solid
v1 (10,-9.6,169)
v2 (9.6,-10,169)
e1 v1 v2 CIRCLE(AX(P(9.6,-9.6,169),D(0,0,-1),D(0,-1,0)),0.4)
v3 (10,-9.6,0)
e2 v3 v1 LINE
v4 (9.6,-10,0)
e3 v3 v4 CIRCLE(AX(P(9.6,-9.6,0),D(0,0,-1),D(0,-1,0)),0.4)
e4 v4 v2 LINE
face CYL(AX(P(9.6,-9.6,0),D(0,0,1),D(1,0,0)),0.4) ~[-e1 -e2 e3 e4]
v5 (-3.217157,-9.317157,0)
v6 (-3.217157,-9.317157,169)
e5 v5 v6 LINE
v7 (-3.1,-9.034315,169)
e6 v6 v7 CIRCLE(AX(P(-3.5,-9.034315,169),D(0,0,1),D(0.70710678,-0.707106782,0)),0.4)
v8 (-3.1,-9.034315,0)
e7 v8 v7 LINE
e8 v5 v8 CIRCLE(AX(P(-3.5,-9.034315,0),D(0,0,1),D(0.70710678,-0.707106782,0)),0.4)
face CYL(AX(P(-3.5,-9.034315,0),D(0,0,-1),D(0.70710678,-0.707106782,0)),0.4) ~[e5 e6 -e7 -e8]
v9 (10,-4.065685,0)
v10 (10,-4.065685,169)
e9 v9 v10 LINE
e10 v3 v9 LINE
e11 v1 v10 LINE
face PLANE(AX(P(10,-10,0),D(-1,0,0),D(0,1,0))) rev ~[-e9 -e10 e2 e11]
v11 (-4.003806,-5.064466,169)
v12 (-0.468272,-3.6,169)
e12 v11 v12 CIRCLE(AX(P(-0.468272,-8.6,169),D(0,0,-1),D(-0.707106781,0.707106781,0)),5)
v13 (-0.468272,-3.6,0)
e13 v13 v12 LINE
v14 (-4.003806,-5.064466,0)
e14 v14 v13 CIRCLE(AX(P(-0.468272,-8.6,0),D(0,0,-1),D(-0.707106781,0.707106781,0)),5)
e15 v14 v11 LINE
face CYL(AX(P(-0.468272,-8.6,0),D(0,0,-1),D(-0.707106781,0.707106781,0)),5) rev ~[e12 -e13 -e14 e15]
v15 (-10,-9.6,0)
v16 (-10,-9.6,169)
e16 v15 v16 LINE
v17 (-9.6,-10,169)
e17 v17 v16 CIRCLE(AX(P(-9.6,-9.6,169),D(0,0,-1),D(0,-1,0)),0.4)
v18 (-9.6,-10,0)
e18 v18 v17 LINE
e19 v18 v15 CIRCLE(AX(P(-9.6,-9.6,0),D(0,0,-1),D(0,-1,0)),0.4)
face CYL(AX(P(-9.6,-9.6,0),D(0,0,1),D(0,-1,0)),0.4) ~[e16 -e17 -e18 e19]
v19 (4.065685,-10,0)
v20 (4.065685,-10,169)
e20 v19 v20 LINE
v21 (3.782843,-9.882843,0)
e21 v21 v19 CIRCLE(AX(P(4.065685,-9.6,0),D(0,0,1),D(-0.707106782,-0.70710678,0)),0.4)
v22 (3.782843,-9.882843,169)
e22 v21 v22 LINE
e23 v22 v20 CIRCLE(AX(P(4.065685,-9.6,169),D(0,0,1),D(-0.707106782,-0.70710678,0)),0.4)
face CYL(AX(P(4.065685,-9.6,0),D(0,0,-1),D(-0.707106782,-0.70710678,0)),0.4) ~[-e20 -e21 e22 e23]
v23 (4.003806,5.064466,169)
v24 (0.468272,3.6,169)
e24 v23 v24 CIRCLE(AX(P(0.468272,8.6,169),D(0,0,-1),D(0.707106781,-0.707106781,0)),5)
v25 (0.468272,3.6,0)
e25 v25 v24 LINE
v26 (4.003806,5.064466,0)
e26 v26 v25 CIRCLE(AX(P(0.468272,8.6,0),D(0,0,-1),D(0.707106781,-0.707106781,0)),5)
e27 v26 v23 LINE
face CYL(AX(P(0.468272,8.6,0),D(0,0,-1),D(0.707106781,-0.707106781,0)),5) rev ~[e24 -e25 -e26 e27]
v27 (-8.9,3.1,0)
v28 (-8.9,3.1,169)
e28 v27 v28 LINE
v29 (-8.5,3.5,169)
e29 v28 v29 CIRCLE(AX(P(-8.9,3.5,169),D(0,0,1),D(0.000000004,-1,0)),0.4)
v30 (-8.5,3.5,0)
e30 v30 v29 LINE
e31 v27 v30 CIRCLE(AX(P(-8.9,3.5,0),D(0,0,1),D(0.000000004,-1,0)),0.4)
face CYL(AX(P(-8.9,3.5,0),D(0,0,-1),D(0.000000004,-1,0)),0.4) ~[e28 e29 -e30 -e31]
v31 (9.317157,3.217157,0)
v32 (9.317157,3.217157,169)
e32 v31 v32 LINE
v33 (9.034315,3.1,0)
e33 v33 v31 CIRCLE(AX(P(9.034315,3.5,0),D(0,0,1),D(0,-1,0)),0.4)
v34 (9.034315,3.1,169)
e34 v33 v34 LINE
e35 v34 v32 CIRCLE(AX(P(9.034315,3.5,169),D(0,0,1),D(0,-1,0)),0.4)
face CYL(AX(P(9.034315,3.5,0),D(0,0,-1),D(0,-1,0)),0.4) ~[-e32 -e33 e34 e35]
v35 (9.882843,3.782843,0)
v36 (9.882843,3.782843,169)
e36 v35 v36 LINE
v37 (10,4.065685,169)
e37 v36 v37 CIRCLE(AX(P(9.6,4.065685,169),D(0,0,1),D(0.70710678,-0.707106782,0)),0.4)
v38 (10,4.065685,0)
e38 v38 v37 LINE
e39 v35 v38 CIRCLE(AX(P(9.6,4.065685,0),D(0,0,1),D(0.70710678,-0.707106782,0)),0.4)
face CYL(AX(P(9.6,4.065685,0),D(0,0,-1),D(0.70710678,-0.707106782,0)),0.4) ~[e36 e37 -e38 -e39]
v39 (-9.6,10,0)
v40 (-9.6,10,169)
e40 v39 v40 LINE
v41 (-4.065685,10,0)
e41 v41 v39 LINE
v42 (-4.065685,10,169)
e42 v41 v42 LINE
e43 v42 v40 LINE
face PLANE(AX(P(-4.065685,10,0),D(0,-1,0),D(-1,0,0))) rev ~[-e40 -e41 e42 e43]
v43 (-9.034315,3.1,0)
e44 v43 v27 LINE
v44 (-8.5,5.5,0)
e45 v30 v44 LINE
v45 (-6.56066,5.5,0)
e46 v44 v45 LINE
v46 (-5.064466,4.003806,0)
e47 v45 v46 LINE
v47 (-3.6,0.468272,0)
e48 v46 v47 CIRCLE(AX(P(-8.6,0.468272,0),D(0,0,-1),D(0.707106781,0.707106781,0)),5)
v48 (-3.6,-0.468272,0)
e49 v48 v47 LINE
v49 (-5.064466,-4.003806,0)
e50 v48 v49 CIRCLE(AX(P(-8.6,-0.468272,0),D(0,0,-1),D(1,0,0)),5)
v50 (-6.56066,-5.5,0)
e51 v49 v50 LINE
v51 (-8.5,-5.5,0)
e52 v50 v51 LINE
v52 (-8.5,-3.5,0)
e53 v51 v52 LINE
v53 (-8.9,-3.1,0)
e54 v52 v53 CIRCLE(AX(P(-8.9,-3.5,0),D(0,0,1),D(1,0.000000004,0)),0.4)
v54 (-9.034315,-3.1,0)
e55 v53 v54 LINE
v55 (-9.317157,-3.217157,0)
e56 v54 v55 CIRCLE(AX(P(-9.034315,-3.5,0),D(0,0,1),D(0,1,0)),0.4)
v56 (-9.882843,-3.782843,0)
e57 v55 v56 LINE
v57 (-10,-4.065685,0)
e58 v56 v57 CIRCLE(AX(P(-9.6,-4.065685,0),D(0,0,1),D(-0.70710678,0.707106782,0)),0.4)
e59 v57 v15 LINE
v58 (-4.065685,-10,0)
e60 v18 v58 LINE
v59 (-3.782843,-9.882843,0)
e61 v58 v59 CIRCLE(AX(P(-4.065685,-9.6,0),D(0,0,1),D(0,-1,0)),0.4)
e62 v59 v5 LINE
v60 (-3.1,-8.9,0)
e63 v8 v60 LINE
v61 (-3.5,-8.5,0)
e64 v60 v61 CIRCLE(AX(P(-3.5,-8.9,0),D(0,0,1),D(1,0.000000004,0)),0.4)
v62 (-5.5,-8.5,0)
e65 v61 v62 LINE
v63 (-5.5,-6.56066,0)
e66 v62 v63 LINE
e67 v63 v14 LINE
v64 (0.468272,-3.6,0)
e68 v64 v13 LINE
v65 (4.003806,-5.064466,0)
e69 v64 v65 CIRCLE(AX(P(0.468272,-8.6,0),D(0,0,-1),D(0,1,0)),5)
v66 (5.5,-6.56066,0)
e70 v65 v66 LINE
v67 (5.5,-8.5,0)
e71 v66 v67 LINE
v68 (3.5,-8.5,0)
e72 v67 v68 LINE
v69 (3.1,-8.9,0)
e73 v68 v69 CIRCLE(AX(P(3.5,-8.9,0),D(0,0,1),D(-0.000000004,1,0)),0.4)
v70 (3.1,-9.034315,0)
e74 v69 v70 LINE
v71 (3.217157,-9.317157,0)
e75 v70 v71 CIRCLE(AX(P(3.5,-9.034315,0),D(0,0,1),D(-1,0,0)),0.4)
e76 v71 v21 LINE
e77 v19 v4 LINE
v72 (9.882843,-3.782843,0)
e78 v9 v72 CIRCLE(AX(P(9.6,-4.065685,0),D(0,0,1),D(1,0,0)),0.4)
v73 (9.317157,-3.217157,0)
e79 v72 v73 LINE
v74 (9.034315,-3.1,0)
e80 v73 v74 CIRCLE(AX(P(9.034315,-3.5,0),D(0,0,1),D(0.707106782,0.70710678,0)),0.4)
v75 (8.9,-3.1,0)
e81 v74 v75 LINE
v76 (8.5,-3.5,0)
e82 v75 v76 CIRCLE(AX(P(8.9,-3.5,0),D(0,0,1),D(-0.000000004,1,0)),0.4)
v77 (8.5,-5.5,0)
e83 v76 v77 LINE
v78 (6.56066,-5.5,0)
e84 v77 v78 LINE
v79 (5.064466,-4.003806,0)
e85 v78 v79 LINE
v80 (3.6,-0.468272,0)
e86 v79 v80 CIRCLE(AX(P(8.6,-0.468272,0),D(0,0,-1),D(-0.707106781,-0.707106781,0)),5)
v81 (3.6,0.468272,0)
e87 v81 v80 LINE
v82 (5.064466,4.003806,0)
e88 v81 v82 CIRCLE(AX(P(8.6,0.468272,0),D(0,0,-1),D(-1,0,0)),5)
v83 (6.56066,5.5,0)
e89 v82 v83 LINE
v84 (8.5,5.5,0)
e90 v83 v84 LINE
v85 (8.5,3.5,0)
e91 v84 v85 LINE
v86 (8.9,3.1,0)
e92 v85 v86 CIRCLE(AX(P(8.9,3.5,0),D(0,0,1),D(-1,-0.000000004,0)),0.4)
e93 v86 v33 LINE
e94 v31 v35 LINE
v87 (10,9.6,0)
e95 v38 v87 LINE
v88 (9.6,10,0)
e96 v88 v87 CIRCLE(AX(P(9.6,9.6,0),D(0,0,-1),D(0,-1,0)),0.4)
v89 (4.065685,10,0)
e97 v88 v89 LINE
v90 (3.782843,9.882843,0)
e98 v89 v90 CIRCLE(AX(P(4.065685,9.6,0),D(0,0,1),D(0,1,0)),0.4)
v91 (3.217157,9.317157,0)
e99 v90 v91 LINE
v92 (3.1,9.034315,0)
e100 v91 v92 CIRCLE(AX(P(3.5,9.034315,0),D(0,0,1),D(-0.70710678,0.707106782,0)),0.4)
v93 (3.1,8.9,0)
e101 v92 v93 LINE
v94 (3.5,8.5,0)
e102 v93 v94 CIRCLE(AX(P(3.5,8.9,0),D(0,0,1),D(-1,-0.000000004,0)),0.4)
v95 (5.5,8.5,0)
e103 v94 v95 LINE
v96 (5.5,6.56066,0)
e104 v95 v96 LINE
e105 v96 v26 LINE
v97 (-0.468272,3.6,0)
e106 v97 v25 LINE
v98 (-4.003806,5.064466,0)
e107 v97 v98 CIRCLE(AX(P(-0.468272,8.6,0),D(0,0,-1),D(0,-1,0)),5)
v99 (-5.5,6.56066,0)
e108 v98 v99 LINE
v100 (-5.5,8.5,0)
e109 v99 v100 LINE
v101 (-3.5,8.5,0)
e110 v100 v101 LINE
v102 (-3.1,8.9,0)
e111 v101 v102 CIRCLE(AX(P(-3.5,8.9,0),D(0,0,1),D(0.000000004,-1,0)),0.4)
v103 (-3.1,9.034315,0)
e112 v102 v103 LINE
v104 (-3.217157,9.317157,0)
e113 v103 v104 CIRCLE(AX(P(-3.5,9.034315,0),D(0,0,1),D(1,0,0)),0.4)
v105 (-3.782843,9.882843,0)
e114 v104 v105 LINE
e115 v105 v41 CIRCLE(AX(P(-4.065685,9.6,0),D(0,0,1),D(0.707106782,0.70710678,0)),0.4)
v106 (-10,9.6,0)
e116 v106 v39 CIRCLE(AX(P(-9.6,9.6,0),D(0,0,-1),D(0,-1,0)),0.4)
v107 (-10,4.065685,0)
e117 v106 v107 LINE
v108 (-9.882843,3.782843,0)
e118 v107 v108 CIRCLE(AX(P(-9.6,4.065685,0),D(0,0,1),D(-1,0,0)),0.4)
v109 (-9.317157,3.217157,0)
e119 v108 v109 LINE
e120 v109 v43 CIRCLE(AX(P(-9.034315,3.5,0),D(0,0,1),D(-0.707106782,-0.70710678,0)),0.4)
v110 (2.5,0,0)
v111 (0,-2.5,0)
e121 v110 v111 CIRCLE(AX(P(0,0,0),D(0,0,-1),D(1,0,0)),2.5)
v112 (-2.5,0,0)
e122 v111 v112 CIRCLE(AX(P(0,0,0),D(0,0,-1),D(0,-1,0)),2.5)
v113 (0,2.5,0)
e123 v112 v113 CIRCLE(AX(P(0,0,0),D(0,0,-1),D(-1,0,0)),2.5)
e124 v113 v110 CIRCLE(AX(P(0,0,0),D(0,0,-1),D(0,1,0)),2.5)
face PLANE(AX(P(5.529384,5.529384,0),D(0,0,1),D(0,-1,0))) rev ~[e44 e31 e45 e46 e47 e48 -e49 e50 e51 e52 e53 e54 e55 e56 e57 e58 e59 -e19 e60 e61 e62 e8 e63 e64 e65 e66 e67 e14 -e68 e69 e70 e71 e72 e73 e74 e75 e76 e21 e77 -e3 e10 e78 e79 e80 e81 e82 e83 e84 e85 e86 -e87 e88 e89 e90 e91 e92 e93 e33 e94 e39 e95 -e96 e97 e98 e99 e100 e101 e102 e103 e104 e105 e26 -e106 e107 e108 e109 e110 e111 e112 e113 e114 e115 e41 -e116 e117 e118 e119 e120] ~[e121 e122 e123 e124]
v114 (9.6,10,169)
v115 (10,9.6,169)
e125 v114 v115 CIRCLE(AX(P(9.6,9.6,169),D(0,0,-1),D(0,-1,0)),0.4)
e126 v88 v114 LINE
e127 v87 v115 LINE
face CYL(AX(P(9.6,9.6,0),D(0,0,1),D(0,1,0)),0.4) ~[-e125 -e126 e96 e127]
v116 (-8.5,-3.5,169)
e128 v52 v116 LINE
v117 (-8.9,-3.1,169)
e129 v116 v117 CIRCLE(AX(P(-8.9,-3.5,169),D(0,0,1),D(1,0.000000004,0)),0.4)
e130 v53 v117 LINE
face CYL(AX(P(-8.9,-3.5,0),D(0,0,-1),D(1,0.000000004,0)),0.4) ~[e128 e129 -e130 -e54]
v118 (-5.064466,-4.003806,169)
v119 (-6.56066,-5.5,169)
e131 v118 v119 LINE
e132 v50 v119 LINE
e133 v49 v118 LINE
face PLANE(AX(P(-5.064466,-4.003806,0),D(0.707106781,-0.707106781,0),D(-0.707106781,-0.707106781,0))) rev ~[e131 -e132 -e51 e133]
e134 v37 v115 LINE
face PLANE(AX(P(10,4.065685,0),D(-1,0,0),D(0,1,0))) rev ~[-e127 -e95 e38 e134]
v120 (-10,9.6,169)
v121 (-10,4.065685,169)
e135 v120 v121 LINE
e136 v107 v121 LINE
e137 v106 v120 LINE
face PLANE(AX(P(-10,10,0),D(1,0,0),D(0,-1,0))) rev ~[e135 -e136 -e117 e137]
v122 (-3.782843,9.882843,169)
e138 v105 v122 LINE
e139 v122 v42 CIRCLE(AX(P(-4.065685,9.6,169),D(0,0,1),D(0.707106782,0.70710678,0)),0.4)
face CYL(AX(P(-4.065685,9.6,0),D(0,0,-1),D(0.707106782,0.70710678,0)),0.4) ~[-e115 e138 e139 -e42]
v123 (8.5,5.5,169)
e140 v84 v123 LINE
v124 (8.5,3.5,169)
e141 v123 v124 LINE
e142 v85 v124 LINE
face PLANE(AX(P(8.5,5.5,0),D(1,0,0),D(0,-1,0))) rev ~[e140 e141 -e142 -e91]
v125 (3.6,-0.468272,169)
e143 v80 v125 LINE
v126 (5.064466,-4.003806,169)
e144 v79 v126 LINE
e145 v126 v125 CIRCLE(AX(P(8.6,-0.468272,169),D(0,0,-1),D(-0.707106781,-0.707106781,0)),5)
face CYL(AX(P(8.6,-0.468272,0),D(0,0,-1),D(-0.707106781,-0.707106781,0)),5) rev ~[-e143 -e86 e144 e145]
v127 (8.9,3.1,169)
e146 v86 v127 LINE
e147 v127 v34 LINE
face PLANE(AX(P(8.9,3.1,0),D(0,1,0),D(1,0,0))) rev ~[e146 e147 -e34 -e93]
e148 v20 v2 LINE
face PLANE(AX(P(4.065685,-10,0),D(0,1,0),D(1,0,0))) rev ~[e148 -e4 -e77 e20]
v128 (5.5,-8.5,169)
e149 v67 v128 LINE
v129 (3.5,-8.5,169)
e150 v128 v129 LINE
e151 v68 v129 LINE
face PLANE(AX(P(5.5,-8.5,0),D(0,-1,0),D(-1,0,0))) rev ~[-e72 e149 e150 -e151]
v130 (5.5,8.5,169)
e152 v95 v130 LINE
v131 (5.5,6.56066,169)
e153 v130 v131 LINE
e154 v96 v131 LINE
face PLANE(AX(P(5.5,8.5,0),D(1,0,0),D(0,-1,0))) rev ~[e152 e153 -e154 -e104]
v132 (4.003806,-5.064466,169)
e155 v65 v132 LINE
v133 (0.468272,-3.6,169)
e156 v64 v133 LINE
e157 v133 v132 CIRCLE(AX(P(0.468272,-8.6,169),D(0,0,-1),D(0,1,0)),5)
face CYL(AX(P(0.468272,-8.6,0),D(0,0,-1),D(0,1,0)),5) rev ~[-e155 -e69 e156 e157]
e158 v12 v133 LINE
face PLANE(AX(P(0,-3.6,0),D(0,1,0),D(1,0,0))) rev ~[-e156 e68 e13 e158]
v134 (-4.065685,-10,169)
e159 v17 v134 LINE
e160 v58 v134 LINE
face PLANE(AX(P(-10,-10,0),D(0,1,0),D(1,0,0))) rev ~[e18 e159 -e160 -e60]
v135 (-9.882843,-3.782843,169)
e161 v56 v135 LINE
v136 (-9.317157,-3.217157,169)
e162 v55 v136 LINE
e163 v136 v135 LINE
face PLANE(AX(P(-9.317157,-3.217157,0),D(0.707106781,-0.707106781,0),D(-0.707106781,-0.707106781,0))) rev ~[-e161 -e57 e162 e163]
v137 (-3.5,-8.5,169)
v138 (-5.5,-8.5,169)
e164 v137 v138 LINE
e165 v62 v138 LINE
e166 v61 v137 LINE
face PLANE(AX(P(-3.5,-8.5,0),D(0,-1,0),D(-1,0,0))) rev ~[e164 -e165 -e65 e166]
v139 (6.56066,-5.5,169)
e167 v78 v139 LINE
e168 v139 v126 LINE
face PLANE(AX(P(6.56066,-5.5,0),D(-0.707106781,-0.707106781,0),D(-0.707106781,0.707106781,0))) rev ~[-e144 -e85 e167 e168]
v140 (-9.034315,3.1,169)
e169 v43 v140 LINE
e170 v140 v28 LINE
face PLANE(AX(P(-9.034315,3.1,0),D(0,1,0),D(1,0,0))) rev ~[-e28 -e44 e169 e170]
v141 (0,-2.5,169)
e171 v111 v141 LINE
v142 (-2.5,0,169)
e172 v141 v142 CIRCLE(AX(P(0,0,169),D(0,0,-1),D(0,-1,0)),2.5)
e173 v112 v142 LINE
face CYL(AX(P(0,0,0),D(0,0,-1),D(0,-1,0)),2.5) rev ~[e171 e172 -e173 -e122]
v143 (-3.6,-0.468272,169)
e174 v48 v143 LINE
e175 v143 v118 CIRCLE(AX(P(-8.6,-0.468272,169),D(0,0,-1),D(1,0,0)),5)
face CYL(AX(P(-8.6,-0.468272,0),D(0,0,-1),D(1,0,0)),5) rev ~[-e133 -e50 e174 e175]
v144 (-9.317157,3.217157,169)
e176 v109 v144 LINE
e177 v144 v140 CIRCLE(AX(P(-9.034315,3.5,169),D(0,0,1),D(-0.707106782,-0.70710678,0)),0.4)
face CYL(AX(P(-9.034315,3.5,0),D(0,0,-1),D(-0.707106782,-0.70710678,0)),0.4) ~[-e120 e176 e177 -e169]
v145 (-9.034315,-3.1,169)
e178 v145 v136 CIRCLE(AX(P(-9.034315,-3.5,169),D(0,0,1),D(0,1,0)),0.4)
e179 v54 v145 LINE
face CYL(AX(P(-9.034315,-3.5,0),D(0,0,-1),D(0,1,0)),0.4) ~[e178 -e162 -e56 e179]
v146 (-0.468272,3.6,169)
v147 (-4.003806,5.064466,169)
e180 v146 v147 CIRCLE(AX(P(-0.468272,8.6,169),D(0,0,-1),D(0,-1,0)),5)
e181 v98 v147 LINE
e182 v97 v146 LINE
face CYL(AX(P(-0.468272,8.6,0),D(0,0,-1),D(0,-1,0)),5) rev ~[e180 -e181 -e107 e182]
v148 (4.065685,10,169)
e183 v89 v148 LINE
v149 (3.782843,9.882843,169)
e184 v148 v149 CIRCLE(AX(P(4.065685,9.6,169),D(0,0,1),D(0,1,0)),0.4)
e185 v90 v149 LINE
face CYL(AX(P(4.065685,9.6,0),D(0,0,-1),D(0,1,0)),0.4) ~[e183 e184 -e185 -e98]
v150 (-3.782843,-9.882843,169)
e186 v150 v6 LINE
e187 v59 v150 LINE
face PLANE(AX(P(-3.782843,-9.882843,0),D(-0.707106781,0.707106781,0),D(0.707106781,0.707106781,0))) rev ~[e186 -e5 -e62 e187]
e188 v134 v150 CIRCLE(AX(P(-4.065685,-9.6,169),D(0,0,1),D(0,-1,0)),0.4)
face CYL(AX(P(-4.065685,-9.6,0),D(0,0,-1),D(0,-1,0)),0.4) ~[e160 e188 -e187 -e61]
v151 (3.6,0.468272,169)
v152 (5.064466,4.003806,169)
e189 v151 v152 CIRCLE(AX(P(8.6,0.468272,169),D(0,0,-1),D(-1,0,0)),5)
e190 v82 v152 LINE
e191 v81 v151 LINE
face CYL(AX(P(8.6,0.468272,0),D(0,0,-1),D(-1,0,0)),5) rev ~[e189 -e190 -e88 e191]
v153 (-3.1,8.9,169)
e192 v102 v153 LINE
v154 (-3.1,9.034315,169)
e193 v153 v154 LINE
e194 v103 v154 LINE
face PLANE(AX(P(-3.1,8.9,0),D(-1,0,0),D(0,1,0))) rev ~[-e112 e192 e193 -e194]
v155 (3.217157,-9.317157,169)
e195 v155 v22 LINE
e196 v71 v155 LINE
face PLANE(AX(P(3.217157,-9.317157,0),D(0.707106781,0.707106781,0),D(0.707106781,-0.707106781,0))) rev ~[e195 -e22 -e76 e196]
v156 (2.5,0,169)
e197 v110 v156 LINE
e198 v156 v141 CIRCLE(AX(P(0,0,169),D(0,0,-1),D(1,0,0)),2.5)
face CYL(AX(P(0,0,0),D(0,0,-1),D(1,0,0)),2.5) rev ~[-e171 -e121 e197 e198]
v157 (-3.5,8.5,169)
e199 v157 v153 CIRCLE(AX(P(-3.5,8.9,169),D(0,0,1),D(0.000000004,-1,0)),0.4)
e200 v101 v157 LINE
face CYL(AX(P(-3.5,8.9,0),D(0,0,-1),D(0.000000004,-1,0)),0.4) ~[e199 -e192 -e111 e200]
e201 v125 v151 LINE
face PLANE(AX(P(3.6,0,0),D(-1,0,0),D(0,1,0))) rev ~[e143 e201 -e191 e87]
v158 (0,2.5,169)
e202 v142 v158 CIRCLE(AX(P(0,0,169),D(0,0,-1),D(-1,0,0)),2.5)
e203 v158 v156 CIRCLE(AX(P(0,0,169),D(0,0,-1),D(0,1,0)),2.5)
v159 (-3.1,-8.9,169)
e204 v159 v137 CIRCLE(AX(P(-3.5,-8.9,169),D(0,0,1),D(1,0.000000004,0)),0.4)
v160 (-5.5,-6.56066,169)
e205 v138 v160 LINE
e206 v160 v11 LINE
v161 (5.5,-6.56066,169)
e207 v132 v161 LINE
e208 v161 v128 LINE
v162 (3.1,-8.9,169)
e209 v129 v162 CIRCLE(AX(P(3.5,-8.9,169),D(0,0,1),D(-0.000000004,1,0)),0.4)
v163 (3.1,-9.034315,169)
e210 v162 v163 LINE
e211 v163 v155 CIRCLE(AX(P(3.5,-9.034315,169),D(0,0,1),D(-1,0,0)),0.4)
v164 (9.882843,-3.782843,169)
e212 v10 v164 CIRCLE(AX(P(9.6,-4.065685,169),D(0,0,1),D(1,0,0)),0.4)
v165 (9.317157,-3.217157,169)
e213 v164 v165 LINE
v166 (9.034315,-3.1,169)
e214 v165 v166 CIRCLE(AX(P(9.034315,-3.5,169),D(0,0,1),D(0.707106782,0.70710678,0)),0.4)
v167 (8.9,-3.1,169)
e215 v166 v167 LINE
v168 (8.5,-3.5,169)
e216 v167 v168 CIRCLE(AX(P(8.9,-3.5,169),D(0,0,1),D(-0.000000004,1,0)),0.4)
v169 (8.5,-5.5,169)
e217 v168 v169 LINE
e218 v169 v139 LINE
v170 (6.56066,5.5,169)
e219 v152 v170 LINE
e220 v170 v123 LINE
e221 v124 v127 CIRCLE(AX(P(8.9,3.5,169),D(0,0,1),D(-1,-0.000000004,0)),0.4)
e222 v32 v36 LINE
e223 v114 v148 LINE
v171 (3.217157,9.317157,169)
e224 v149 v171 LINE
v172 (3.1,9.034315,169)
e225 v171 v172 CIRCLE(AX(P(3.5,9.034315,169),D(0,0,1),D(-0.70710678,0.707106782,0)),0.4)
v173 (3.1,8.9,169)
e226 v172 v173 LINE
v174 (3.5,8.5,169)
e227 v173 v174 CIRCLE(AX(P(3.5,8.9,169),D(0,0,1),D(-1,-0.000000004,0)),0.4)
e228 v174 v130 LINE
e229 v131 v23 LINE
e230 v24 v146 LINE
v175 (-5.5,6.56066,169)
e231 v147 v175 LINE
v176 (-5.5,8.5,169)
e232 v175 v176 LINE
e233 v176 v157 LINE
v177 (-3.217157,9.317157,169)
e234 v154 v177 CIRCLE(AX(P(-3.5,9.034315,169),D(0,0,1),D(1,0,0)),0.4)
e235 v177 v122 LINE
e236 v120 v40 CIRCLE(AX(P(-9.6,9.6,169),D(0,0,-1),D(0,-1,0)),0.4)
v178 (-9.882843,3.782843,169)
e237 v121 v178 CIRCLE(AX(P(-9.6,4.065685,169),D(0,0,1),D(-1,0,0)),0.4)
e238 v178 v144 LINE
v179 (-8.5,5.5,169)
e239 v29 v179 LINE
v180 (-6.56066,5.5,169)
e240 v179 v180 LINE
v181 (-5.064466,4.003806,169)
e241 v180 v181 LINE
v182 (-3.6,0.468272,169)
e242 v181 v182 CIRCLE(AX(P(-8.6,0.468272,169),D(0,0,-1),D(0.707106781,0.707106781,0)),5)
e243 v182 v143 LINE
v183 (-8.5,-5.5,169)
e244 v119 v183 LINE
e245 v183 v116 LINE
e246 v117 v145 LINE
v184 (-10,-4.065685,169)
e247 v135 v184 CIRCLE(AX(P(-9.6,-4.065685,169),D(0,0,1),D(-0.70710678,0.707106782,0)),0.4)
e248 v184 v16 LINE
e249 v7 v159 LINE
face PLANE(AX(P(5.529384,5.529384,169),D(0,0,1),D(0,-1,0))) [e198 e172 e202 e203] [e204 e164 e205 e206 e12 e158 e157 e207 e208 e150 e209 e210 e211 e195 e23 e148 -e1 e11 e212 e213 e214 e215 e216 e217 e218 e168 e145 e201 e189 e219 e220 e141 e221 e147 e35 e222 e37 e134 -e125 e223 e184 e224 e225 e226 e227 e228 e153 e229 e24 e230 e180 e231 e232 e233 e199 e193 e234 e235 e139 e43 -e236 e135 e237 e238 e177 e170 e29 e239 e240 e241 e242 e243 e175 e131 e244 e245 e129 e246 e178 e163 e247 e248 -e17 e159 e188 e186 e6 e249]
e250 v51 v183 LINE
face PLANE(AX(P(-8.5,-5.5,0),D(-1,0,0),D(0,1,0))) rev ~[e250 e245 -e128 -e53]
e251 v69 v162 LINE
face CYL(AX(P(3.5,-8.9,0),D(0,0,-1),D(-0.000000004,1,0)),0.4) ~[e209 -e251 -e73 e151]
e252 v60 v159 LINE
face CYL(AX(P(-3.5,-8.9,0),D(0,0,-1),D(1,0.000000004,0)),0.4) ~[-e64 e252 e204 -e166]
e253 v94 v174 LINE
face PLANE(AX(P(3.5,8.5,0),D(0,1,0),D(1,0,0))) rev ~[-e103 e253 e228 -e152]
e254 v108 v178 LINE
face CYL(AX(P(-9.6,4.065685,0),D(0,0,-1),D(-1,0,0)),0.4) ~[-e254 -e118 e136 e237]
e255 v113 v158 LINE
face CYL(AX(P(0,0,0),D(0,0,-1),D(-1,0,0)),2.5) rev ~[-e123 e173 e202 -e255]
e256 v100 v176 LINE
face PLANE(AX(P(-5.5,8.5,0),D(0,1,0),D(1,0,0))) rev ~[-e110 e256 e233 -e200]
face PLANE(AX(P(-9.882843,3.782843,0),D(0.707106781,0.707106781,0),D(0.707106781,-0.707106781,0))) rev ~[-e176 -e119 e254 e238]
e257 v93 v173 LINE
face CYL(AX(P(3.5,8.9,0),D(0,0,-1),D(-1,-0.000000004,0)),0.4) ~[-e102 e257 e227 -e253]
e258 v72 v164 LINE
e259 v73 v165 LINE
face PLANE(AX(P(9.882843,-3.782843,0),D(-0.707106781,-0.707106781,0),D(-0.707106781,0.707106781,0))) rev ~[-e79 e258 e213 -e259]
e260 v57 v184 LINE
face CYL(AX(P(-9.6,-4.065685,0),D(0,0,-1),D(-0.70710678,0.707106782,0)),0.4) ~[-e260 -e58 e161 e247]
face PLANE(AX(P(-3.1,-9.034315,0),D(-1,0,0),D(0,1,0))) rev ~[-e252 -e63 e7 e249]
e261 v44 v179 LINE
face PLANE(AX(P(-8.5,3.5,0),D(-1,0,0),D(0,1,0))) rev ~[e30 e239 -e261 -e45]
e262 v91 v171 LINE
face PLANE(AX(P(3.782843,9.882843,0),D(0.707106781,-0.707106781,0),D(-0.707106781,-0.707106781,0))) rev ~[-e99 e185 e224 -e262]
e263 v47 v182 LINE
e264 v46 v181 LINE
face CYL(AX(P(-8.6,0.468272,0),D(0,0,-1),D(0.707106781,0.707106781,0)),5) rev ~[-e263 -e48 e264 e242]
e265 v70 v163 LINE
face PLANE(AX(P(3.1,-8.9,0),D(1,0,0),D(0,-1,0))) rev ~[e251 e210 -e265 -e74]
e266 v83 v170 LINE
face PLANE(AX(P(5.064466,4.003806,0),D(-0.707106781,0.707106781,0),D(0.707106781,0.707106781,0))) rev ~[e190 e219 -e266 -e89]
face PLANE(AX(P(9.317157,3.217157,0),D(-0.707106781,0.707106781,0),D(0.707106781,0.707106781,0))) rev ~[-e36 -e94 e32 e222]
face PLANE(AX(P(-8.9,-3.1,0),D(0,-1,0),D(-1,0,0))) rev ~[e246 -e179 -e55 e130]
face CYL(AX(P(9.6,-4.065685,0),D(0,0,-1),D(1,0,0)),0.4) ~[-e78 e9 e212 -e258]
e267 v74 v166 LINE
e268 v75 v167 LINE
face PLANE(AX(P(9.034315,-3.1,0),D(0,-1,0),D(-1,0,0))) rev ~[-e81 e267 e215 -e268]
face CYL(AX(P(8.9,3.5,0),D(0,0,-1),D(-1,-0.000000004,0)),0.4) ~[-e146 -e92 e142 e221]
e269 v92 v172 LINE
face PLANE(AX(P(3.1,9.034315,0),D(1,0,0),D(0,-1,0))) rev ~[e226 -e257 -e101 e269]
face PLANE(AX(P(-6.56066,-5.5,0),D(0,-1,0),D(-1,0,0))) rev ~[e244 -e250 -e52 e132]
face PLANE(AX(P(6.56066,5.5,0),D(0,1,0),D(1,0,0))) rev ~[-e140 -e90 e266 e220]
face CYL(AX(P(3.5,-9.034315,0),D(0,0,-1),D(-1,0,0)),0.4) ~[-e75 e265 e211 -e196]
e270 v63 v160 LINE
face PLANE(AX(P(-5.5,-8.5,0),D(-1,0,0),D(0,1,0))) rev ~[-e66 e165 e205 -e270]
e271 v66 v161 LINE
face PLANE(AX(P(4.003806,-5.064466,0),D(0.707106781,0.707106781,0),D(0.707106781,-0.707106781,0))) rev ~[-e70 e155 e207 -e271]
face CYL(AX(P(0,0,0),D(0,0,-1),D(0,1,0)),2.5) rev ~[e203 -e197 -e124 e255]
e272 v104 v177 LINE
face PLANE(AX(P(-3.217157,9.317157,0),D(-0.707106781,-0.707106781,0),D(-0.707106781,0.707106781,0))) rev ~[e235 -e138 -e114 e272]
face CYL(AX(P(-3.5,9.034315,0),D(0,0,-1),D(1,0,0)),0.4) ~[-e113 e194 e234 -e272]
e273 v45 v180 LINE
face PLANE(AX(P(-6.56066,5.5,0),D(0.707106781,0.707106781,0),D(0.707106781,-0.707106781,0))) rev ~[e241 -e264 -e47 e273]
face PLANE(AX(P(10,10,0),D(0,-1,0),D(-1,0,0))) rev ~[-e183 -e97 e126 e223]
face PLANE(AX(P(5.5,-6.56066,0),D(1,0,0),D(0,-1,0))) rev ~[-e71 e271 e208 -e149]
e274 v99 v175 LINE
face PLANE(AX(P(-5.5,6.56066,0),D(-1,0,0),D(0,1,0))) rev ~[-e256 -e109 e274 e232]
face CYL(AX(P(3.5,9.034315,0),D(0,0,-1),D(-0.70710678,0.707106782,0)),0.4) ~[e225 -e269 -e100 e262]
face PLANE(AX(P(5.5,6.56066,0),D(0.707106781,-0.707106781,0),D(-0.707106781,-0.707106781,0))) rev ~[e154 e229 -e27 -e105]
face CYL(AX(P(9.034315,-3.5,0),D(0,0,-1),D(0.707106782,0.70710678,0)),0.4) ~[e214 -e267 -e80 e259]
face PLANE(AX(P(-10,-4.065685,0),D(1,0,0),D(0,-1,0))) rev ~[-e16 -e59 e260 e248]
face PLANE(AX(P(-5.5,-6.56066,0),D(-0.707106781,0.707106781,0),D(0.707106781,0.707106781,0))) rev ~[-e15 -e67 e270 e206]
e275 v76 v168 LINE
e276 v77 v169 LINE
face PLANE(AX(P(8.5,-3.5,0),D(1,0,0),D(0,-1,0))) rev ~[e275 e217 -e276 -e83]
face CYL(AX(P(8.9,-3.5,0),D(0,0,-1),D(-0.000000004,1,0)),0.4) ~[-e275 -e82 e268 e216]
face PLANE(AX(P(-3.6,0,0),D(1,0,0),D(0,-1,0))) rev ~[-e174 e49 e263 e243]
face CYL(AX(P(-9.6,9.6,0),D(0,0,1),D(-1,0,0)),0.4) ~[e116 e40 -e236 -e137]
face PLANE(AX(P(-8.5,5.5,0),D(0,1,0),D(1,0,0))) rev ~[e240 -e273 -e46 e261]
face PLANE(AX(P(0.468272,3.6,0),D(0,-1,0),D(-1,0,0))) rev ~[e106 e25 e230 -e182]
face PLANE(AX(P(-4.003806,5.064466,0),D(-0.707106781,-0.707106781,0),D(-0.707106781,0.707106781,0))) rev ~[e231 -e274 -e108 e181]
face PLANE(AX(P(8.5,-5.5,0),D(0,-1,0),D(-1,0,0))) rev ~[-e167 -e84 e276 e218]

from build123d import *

# Parameters (mm, degrees)
RESSALTO_EXTRUS_O1_DEPTH = 169
PADR_OCIRCULAR1_COUNT    = 4
FILETE1_R                = 0.4


with BuildPart() as part:
    # Esboço1 → Ressalto-extrusão1 (new body)
    with BuildSketch(Plane.XY):
        with BuildLine():
            ThreePointArc((-9.317157288, 3.217157288), (-9.187387948, 3.130448187), (-9.034314575, 3.1))
            Line((-9.034314575, 3.1), (-8.9, 3.1))
            ThreePointArc((-8.9, 3.1), (-8.617157288, 3.217157288), (-8.5, 3.5))
            Line((-8.5, 3.5), (-8.5, 5.5))
            Line((-8.5, 5.5), (-6.560660172, 5.5))
            Line((-6.560660172, 5.5), (-5.064466094, 4.003805922))
            ThreePointArc((-5.064466094, 4.003805922), (-3.980602337, 2.381689178), (-3.6, 0.468272016))
            Line((-3.6, 0.468272016), (-3.6, 0))
            Line((-3.6, 0), (-2.5, 0))
            ThreePointArc((-2.5, 0), (-1.767766953, 1.767766953), (0, 2.5))
            Line((0, 2.5), (0, 3.6))
            Line((0, 3.6), (-0.468272016, 3.6))
            ThreePointArc((-0.468272016, 3.6), (-2.381689178, 3.980602337), (-4.003805922, 5.064466094))
            Line((-4.003805922, 5.064466094), (-5.5, 6.560660172))
            Line((-5.5, 6.560660172), (-5.5, 8.5))
            Line((-5.5, 8.5), (-3.5, 8.5))
            ThreePointArc((-3.5, 8.5), (-3.217157288, 8.617157288), (-3.1, 8.9))
            Line((-3.1, 8.9), (-3.1, 9.034314575))
            ThreePointArc((-3.1, 9.034314575), (-3.130448187, 9.187387948), (-3.217157288, 9.317157288))
            Line((-3.217157288, 9.317157288), (-3.782842712, 9.882842712))
            ThreePointArc((-3.782842712, 9.882842712), (-3.912612052, 9.969551813), (-4.065685425, 10))
            Line((-4.065685425, 10), (-10, 10))
            Line((-10, 10), (-10, 4.065685425))
            ThreePointArc((-10, 4.065685425), (-9.969551813, 3.912612052), (-9.882842712, 3.782842712))
            Line((-9.882842712, 3.782842712), (-9.317157288, 3.217157288))
        make_face()
    ressalto_extrus_o1 = extrude(amount=RESSALTO_EXTRUS_O1_DEPTH)

    # PadrãoCircular1: Ressalto-extrusão1 ×4 about axis
    padr_ocircular1_axis = Axis((0, 0, 0), (0, 0, 1))
    for i in range(1, PADR_OCIRCULAR1_COUNT):
        add(ressalto_extrus_o1.rotate(padr_ocircular1_axis, i * 360 / PADR_OCIRCULAR1_COUNT))

    # Filete1
    filete1_edges = [part.edges().sort_by_distance(p)[0] for p in [
        (10, -10, 84.5),
        (10, 10, 84.5),
        (-10, 10, 84.5),
        (-10, -10, 84.5),
    ]]
    fillet(filete1_edges, radius=FILETE1_R)


solid = part.part
